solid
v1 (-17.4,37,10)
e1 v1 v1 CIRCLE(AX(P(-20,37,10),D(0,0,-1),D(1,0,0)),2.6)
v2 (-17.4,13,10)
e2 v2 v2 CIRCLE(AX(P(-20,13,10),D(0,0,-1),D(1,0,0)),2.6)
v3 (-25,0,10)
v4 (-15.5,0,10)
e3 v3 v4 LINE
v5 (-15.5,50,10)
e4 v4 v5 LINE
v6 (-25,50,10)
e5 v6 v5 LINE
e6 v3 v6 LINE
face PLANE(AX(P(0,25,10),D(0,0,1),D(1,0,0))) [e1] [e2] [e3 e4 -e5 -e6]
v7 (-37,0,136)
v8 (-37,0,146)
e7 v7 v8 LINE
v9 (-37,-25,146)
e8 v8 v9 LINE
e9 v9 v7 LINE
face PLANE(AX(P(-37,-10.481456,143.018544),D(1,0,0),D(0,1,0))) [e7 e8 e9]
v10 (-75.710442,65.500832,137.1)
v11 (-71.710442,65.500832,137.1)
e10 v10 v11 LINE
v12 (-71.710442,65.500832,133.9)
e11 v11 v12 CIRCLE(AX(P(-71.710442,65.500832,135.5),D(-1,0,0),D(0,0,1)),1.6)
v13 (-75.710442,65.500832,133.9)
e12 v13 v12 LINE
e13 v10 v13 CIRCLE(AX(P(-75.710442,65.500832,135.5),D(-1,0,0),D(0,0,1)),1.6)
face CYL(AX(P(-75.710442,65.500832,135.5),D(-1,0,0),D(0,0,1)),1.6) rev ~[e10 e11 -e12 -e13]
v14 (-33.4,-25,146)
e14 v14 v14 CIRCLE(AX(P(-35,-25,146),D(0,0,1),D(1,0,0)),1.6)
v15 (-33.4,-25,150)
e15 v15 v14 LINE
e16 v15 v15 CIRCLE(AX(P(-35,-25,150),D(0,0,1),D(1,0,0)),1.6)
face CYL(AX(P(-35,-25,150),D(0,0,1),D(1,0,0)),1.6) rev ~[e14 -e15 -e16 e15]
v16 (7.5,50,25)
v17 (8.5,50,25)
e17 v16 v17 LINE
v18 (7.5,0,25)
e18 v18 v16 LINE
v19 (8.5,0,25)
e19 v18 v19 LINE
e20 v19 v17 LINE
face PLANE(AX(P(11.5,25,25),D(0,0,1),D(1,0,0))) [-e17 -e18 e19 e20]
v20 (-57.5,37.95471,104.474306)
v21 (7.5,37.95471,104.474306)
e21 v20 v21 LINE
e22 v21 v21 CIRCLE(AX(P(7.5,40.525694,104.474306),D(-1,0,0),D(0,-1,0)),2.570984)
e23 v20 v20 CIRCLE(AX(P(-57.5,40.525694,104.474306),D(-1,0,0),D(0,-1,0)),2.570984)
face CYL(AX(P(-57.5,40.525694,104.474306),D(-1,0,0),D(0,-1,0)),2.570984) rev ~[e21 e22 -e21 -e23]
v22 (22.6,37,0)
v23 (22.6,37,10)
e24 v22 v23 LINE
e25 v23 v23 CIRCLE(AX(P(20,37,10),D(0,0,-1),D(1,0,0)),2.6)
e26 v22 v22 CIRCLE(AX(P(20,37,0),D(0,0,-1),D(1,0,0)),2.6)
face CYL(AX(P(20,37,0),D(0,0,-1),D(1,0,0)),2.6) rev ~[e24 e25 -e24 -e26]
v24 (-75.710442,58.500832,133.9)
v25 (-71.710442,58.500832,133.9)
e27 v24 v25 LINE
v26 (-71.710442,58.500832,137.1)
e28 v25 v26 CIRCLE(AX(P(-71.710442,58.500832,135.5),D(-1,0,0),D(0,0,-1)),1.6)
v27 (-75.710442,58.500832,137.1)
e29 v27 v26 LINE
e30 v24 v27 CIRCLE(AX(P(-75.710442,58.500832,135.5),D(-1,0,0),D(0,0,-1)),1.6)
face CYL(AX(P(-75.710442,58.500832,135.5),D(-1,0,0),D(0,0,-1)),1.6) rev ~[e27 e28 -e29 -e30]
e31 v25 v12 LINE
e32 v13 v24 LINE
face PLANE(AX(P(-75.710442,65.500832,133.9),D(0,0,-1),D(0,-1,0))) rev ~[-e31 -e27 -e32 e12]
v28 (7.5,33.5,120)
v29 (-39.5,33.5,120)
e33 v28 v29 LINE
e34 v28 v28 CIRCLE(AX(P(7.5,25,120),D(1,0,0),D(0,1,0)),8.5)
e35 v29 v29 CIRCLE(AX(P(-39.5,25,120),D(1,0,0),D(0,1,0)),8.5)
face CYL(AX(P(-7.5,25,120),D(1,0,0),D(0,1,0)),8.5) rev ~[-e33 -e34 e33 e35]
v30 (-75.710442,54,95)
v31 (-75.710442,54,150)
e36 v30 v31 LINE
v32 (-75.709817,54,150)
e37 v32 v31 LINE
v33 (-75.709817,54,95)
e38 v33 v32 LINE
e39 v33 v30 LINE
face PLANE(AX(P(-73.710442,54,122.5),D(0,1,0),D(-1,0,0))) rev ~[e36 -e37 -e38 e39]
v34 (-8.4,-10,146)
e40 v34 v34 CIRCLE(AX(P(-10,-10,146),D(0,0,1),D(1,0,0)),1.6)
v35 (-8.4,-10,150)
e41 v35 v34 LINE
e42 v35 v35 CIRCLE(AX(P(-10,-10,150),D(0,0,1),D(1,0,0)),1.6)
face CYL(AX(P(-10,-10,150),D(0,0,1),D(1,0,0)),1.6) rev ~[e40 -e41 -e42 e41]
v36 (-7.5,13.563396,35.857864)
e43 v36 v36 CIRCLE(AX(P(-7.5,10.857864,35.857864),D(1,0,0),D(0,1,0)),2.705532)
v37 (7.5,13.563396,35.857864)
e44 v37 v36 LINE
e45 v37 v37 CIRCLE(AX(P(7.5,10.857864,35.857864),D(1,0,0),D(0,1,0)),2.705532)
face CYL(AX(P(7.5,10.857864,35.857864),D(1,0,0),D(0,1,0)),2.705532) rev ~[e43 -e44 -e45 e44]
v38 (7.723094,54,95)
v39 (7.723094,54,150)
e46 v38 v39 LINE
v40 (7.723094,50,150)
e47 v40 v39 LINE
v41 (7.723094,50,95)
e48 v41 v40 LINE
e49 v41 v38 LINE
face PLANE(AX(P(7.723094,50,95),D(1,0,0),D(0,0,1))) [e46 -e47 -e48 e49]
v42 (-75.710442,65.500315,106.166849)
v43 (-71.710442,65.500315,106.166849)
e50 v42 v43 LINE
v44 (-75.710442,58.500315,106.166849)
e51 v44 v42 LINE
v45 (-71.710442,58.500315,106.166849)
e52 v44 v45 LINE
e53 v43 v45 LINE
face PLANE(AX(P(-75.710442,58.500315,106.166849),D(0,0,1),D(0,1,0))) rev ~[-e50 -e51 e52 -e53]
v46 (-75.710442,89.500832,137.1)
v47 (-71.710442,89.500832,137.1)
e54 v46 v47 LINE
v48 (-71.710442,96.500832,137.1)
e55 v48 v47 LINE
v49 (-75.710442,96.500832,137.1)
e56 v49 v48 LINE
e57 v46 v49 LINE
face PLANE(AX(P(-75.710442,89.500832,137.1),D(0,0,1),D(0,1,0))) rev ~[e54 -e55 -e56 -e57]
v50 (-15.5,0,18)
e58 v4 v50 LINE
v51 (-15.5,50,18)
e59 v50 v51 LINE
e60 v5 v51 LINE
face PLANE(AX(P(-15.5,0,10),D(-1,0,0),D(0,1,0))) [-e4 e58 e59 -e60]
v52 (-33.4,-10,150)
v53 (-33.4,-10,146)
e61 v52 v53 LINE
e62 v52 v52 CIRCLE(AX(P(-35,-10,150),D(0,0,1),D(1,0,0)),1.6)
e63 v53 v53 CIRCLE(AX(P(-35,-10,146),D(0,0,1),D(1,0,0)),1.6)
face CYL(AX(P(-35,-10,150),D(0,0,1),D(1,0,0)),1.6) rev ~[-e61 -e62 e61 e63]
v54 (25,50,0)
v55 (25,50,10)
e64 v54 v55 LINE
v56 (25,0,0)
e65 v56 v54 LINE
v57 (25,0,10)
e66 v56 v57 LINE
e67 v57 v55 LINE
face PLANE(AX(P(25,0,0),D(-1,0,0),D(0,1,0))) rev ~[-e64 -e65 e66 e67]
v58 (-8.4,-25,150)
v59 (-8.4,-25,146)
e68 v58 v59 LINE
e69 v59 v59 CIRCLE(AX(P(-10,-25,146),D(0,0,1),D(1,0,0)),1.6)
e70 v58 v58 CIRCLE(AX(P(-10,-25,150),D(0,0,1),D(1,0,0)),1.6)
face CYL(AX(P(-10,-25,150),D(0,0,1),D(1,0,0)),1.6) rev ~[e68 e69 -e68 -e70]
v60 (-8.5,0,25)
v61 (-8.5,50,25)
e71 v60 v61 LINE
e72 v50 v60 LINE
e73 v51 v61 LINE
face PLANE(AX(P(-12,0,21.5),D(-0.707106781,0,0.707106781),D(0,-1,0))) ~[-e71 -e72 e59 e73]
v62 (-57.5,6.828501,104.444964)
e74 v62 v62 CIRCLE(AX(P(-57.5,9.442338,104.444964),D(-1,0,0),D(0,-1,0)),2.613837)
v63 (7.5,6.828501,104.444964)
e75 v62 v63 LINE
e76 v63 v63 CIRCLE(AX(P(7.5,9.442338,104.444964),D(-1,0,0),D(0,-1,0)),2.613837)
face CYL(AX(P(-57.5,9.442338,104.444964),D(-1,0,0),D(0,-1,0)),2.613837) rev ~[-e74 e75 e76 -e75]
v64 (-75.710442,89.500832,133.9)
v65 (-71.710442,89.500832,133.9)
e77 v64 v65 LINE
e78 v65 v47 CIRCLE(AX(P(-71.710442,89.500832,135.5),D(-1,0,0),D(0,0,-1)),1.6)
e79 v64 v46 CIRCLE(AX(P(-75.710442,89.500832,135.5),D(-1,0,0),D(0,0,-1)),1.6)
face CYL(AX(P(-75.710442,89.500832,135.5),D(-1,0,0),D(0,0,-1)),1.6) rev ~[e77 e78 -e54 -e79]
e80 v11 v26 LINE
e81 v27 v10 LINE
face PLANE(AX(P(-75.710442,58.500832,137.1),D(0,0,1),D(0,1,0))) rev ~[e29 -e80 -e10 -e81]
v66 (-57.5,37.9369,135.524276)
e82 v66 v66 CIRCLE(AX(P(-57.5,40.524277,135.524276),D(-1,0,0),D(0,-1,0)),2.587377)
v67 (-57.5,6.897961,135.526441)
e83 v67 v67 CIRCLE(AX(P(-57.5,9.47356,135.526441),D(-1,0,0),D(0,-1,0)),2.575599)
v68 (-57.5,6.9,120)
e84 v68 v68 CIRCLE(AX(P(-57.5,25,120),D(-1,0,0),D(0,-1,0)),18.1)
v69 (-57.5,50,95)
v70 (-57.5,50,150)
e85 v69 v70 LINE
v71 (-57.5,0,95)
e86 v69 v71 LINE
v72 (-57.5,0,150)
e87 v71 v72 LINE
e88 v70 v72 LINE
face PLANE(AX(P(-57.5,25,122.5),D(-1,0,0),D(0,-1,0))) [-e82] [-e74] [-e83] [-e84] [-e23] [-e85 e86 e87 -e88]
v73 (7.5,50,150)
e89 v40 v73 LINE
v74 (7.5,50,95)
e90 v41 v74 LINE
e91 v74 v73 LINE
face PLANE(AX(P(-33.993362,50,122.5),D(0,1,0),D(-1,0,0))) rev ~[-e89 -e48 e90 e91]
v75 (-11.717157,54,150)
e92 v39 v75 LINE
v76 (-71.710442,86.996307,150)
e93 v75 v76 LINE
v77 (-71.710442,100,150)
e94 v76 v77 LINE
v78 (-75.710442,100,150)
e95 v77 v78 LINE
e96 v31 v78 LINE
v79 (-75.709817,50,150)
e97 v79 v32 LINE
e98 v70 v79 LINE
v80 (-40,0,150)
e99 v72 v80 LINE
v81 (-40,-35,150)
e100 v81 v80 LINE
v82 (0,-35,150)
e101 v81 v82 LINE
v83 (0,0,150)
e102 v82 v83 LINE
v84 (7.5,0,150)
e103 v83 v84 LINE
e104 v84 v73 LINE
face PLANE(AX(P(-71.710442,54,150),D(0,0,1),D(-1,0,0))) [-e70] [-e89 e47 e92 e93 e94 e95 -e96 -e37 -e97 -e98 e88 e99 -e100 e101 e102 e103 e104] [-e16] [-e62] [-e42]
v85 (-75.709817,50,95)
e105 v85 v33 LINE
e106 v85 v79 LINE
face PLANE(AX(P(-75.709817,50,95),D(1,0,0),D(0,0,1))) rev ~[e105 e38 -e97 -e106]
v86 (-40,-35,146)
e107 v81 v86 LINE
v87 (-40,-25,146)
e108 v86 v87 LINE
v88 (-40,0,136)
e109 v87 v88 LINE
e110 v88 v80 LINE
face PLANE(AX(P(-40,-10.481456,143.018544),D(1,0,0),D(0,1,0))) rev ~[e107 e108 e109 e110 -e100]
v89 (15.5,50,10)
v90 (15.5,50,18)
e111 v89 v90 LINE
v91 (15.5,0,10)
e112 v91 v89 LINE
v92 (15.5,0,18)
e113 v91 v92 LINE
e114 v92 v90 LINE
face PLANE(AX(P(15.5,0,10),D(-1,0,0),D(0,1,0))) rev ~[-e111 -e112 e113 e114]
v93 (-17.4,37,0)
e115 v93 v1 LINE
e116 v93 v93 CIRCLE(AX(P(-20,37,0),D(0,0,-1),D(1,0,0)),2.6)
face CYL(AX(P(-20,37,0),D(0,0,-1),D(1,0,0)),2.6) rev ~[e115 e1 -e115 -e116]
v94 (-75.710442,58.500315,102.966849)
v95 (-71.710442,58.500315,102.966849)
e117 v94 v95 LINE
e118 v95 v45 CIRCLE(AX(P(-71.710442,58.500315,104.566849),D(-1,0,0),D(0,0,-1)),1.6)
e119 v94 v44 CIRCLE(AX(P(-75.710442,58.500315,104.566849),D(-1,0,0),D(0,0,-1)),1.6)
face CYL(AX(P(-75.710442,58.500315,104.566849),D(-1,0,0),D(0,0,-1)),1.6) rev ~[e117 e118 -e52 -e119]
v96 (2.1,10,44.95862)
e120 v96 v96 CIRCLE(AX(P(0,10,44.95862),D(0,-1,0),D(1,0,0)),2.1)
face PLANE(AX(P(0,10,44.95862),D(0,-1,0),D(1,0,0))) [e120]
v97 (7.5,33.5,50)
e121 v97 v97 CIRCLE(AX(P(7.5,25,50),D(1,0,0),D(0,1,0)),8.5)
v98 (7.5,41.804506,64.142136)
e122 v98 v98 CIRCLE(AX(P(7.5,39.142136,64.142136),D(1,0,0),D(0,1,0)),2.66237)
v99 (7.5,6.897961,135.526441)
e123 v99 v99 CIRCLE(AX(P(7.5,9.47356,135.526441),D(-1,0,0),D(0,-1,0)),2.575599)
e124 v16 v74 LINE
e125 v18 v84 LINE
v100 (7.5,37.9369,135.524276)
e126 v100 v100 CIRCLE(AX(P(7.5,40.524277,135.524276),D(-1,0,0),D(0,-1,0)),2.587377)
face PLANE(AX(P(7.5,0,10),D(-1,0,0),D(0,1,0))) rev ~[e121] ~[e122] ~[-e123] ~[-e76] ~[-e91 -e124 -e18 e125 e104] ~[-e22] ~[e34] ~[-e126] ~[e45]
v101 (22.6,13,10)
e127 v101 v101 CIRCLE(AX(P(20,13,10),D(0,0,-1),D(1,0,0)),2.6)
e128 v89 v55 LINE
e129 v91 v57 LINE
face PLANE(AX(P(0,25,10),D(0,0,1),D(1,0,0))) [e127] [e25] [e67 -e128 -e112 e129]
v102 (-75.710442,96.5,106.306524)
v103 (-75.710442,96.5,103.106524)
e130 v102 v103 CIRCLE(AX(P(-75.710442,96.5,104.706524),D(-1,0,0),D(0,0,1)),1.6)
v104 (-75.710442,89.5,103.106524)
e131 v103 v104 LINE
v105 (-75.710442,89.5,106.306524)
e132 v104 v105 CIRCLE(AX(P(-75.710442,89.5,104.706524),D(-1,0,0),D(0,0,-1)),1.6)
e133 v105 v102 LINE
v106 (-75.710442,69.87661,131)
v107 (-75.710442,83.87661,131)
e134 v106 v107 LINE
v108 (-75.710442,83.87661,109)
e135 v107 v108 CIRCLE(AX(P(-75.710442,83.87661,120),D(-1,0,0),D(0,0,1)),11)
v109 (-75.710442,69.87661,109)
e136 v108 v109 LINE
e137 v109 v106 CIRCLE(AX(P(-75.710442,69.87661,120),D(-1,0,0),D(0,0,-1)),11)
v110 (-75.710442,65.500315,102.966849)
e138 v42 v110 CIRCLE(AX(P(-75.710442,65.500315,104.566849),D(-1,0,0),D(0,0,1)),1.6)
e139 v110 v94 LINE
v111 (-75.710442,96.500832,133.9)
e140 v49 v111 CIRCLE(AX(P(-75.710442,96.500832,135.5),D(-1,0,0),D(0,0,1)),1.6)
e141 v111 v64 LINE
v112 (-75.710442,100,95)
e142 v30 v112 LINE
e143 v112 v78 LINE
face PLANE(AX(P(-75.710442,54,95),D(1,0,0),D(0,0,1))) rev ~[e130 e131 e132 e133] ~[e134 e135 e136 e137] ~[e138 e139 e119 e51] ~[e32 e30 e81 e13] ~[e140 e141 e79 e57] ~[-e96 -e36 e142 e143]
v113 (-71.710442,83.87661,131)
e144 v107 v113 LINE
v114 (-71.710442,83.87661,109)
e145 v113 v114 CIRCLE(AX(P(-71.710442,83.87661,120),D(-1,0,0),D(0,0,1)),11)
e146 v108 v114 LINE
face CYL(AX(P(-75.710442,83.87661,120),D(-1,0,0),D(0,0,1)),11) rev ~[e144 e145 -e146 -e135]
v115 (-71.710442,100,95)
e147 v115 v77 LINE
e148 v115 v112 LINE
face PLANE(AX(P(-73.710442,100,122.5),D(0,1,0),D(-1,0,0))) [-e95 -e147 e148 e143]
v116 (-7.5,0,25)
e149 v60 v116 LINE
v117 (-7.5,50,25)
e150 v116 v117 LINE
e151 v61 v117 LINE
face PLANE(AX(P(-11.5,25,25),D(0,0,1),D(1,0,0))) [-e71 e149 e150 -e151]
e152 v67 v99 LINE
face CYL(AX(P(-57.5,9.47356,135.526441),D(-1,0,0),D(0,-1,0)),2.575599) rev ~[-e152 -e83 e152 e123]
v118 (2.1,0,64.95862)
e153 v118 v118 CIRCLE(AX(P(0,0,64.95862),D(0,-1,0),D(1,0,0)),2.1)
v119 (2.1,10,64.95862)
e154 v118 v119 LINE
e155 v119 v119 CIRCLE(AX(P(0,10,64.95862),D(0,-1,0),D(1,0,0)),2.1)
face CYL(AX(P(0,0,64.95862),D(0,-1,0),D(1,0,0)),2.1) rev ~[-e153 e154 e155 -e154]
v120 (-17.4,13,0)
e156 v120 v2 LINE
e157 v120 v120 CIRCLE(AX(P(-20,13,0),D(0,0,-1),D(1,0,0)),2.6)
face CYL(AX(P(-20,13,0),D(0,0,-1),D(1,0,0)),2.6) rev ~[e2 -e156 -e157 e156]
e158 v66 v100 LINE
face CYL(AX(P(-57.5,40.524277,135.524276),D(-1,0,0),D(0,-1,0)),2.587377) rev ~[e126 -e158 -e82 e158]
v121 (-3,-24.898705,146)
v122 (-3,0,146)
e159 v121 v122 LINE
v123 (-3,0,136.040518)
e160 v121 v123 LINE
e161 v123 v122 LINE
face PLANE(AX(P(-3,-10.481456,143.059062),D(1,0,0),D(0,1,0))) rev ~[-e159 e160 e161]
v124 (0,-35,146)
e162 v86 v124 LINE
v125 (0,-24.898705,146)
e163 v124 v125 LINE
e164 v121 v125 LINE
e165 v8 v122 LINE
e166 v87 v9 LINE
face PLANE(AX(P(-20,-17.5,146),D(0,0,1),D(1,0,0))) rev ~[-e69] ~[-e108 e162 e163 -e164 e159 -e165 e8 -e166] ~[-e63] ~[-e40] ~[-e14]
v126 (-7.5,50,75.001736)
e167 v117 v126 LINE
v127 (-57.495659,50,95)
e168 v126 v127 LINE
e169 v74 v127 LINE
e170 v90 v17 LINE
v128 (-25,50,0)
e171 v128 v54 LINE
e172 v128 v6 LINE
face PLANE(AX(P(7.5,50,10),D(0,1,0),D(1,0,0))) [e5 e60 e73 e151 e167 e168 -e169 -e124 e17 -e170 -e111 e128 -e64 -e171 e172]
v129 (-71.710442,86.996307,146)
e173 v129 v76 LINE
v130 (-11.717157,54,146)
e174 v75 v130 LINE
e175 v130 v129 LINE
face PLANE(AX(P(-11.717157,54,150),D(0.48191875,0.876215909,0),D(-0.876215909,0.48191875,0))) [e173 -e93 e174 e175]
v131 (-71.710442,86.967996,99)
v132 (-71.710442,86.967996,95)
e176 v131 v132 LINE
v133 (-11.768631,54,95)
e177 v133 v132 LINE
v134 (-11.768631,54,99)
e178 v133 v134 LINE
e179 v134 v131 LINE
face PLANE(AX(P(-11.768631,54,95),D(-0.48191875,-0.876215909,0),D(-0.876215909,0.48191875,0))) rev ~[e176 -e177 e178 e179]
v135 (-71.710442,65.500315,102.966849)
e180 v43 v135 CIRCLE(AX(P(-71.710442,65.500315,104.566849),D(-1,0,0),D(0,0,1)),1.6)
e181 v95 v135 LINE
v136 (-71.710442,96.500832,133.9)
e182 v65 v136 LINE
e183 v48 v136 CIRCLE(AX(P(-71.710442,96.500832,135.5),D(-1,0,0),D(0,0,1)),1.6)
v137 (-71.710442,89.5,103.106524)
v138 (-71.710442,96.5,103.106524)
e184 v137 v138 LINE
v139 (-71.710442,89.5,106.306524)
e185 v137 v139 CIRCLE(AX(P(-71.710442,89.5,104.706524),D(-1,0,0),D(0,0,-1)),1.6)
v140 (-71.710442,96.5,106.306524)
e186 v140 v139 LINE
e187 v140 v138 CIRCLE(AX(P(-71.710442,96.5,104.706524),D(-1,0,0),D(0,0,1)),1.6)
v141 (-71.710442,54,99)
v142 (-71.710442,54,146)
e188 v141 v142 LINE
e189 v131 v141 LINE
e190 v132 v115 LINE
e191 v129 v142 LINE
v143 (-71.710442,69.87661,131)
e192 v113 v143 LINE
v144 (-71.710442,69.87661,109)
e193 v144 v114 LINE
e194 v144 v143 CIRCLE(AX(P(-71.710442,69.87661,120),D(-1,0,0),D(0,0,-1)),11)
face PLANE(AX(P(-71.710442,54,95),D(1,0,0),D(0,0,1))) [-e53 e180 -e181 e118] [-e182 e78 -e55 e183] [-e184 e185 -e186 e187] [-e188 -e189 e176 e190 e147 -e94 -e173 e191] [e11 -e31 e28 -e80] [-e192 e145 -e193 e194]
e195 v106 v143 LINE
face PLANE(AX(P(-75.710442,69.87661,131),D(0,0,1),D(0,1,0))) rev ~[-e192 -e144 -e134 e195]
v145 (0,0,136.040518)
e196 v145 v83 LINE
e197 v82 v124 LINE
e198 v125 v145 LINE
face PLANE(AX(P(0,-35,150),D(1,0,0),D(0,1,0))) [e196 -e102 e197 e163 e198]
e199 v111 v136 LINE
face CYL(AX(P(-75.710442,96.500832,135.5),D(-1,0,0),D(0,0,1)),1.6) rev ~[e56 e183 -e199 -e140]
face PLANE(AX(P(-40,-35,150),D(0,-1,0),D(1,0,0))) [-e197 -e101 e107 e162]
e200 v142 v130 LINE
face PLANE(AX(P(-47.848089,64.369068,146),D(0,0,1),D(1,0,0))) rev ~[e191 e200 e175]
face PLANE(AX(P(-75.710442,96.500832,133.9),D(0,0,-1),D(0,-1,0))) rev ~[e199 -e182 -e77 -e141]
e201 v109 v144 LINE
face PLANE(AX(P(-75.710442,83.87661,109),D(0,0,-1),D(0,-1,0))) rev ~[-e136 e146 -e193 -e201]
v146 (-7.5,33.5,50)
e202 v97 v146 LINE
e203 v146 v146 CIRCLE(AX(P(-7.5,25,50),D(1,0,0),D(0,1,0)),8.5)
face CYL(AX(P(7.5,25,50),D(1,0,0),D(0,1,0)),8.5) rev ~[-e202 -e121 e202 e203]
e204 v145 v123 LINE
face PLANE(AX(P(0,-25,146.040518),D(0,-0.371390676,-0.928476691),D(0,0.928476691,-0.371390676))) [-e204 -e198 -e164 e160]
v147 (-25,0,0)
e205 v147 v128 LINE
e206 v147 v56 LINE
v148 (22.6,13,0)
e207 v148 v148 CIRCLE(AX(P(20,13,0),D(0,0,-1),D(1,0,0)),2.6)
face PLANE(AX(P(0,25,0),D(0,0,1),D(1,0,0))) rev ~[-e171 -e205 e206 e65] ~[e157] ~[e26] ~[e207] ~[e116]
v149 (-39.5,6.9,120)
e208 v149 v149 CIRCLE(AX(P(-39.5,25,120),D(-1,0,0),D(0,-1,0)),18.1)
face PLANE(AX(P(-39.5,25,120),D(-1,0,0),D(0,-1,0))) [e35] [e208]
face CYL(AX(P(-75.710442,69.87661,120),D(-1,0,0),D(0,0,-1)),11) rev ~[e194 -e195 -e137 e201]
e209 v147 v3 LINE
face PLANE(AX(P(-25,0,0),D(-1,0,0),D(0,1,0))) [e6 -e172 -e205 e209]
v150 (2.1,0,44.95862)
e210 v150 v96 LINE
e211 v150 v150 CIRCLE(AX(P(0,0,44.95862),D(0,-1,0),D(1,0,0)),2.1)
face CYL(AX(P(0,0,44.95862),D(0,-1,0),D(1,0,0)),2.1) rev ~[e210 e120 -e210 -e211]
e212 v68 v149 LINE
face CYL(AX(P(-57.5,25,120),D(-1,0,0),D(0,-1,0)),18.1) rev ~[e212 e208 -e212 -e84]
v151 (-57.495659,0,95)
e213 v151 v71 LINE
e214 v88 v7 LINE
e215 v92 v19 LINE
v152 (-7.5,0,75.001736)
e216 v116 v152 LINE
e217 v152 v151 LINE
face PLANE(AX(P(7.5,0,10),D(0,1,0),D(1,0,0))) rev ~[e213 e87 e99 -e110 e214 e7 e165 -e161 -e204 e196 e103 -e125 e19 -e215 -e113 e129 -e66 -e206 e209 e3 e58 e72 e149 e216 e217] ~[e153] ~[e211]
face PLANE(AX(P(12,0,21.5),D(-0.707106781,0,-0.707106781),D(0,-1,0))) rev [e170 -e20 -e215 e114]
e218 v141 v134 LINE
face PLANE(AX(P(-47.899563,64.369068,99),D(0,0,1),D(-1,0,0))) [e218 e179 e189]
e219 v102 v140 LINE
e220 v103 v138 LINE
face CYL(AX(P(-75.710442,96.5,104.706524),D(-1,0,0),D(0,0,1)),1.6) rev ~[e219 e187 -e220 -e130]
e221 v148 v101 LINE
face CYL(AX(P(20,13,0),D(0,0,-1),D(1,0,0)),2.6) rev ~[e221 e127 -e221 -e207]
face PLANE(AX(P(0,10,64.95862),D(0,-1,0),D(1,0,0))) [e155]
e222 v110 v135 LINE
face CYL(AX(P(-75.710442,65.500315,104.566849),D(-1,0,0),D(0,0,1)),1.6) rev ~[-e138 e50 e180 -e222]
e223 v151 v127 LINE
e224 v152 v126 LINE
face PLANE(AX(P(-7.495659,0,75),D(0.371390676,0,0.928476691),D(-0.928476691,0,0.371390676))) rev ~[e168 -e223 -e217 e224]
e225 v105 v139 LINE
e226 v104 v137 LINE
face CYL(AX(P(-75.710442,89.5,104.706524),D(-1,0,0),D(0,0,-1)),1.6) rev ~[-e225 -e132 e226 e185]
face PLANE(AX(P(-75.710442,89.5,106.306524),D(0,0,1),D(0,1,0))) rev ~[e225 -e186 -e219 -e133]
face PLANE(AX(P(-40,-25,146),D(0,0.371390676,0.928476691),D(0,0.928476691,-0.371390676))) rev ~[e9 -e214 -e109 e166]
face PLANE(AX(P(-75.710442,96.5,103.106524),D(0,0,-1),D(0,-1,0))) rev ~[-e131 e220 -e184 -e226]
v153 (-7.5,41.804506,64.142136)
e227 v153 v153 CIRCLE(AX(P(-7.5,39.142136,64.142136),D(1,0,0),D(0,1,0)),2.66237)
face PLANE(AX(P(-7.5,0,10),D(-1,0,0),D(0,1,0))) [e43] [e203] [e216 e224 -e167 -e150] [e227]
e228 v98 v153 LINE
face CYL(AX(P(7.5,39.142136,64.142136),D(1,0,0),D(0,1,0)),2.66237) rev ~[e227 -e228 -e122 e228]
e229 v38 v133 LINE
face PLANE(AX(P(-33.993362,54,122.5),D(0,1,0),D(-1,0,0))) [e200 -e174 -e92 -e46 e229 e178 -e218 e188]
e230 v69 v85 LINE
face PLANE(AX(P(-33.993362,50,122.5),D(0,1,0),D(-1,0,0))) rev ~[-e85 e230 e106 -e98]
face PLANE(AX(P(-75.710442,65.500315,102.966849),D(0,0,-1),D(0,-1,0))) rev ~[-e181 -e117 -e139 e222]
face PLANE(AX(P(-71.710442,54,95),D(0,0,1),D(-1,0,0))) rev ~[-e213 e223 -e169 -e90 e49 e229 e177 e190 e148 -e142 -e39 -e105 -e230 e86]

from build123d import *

# Parameters (mm, degrees)
SKETCH_W        = 50
SKETCH_H        = 50
PAD_DEPTH       = 10
SKETCH001_W     = 15
SKETCH001_H     = 50
PAD001_DEPTH    = 140
SKETCH004_R     = 2.6
POCKET002_DEPTH = 10
SKETCH005_R     = 8.5
SKETCH005_R_2   = 2.66237
SKETCH005_R_3   = 2.705532
POCKET_DEPTH    = 15
SKETCH006_W     = 50
SKETCH006_H     = 55
PAD002_DEPTH    = 50
SKETCH009_W     = 8
SKETCH009_H     = 50
PAD003_DEPTH    = 15
SKETCH010_R     = 8.5
POCKET003_DEPTH = 65
SKETCH011_R     = 18.1
POCKET004_DEPTH = 18
SKETCH012_R     = 2.570984
SKETCH012_R_2   = 2.587377
SKETCH012_R_3   = 2.575599
SKETCH012_R_4   = 2.613837
POCKET005_DEPTH = 65
CHAMFER_SIZE    = 7
CHAMFER001_SIZE = 7
SKETCH013_W     = 83.432911
SKETCH013_H     = 55
PAD004_DEPTH    = 4
SKETCH014_W     = 4
SKETCH014_H     = 55
PAD005_DEPTH    = 46
PAD006_DEPTH    = 4
PAD007_DEPTH    = 4
POCKET006_DEPTH = 5
SKETCH018_W     = 40
SKETCH018_H     = 35
PAD008_DEPTH    = 4
SKETCH019_R     = 1.6
POCKET007_DEPTH = 5
PAD009_DEPTH    = 3
PAD010_DEPTH    = 3
SKETCH022_R     = 2.1
POCKET008_DEPTH = 10
PAD011_DEPTH    = 50


with BuildPart() as part:
    # Sketch → Pad (new body)
    with BuildSketch(Plane.XY):
        with Locations((0, 25)):
            Rectangle(SKETCH_W, SKETCH_H)
    extrude(amount=PAD_DEPTH)

    # Sketch001 (on Face6 of Pad) → Pad001 (join)
    with BuildSketch(Plane.XY.offset(10)):
        with Locations((0, 25)):
            Rectangle(SKETCH001_W, SKETCH001_H)
    extrude(amount=PAD001_DEPTH)

    # Sketch004 → Pocket002 (cut)
    with BuildSketch(Plane(origin=(0, 0, 0), x_dir=(1, 0, 0), z_dir=(0, 0, -1))):
        with Locations((-20, -13)):
            Circle(SKETCH004_R)
        with Locations((20, -13)):
            Circle(SKETCH004_R)
        with Locations((-20, -37)):
            Circle(SKETCH004_R)
        with Locations((20, -37)):
            Circle(SKETCH004_R)
    extrude(amount=-POCKET002_DEPTH, mode=Mode.SUBTRACT)

    # Sketch005 (on Face14 of Pocket002) → Pocket (cut)
    with BuildSketch(Plane.YZ.offset(7.5)):
        with Locations((25, 50)):
            Circle(SKETCH005_R)
        with Locations((25, 120)):
            Circle(SKETCH005_R)
        with Locations((39.142136, 64.142136)):
            Circle(SKETCH005_R_2)
        with Locations((10.857864, 35.857864)):
            Circle(SKETCH005_R_3)
    extrude(amount=-POCKET_DEPTH, mode=Mode.SUBTRACT)

    # Sketch006 (on Face13 of Pocket) → Pad002 (join)
    with BuildSketch(Plane(origin=(-7.5, 0, 0), x_dir=(0, -1, 0), z_dir=(-1, 0, 0))):
        with Locations((-25, 122.5)):
            Rectangle(SKETCH006_W, SKETCH006_H)
    extrude(amount=PAD002_DEPTH)

    # Sketch009 → Pad003 (join)
    with BuildSketch(Plane.XY.offset(10)):
        with Locations((11.5, 25)):
            Rectangle(SKETCH009_W, SKETCH009_H)
        with Locations((-11.5, 25)):
            Rectangle(SKETCH009_W, SKETCH009_H)
    extrude(amount=PAD003_DEPTH)

    # Sketch010 (on Face34 of Pad003) → Pocket003 (cut)
    with BuildSketch(Plane.YZ.offset(-7.5)):
        with Locations((25, 120)):
            Circle(SKETCH010_R)
    extrude(amount=-POCKET003_DEPTH, mode=Mode.SUBTRACT)

    # Sketch011 (on DatumPlane) → Pocket004 (cut)
    with BuildSketch(Plane(origin=(-57.5, 0, 0), x_dir=(0, -1, 0), z_dir=(-1, 0, 0))):
        with Locations((-25, 120)):
            Circle(SKETCH011_R)
    extrude(amount=-POCKET004_DEPTH, mode=Mode.SUBTRACT)

    # Sketch012 (on DatumPlane) → Pocket005 (cut)
    with BuildSketch(Plane(origin=(-57.5, 0, 0), x_dir=(0, -1, 0), z_dir=(-1, 0, 0))):
        with Locations((-40.525694, 104.474306)):
            Circle(SKETCH012_R)
        with Locations((-40.524277, 135.524276)):
            Circle(SKETCH012_R_2)
        with Locations((-9.47356, 135.526441)):
            Circle(SKETCH012_R_3)
        with Locations((-9.442338, 104.444964)):
            Circle(SKETCH012_R_4)
    extrude(amount=-POCKET005_DEPTH, mode=Mode.SUBTRACT)

    # Chamfer
    chamfer_edges = [part.edges().sort_by_distance(p)[0] for p in [
        (15.5, 25, 25),
    ]]
    chamfer(chamfer_edges, length=CHAMFER_SIZE)

    # Chamfer001
    chamfer001_edges = [part.edges().sort_by_distance(p)[0] for p in [
        (-15.5, 25, 25),
    ]]
    chamfer(chamfer001_edges, length=CHAMFER001_SIZE)

    # Sketch013 (on DatumPlane) → Pad004 (join)
    with BuildSketch(Plane(origin=(0, 50, 0), x_dir=(-1, 0, 0), z_dir=(0, 1, 0))):
        with Locations((33.993362, 122.5)):
            Rectangle(SKETCH013_W, SKETCH013_H)
    extrude(amount=PAD004_DEPTH)

    # Sketch014 (on Face47 of Pad004) → Pad005 (join)
    with BuildSketch(Plane(origin=(0, 54, 0), x_dir=(-1, 0, 0), z_dir=(0, 1, 0))):
        with Locations((73.710442, 122.5)):
            Rectangle(SKETCH014_W, SKETCH014_H)
    extrude(amount=PAD005_DEPTH)

    # Sketch015 (on DatumPlane) → Pad006 (join)
    with BuildSketch(Plane.XY.offset(150)):
        Polygon((-71.717157, 54), (-11.717157, 54), (-71.717157, 87), align=None)
    extrude(amount=-PAD006_DEPTH)

    # Sketch016 (on DatumPlane) → Pad007 (join)
    with BuildSketch(Plane(origin=(0, 0, 95), x_dir=(1, 0, 0), z_dir=(0, 0, -1))):
        Polygon((-71.768631, -54), (-11.768631, -54), (-71.768631, -87), align=None)
    extrude(amount=-PAD007_DEPTH)

    # Sketch017 (on DatumPlane) → Pocket006 (cut)
    with BuildSketch(Plane(origin=(-75.710442, 0, 0), x_dir=(0, -1, 0), z_dir=(-1, 0, 0))):
        with BuildLine():
            ThreePointArc((-58.500315, 102.966849), (-56.900315, 104.566849), (-58.500315, 106.166849))
            Line((-58.500315, 106.166849), (-65.500315, 106.166849))
            ThreePointArc((-65.500315, 106.166849), (-67.100315, 104.566849), (-65.500315, 102.966849))
            Line((-65.500315, 102.966849), (-58.500315, 102.966849))
        make_face()
        with BuildLine():
            ThreePointArc((-89.5, 103.106524), (-87.9, 104.706524), (-89.5, 106.306524))
            Line((-89.5, 106.306524), (-96.5, 106.306524))
            ThreePointArc((-96.5, 106.306524), (-98.1, 104.706524), (-96.5, 103.106524))
            Line((-96.5, 103.106524), (-89.5, 103.106524))
        make_face()
        with BuildLine():
            ThreePointArc((-89.500832, 133.9), (-87.900832, 135.5), (-89.500832, 137.1))
            Line((-89.500832, 137.1), (-96.500832, 137.1))
            ThreePointArc((-96.500832, 137.1), (-98.100832, 135.5), (-96.500832, 133.9))
            Line((-96.500832, 133.9), (-89.500832, 133.9))
        make_face()
        with BuildLine():
            ThreePointArc((-58.500832, 133.9), (-56.900832, 135.5), (-58.500832, 137.1))
            Line((-58.500832, 137.1), (-65.500832, 137.1))
            ThreePointArc((-65.500832, 137.1), (-67.100832, 135.5), (-65.500832, 133.9))
            Line((-65.500832, 133.9), (-58.500832, 133.9))
        make_face()
        with BuildLine():
            ThreePointArc((-69.87661, 109), (-58.87661, 120), (-69.87661, 131))
            Line((-69.87661, 131), (-83.87661, 131))
            ThreePointArc((-83.87661, 131), (-94.87661, 120), (-83.87661, 109))
            Line((-83.87661, 109), (-69.87661, 109))
        make_face()
    extrude(amount=-POCKET006_DEPTH, mode=Mode.SUBTRACT)

    # Sketch018 (on DatumPlane) → Pad008 (join)
    with BuildSketch(Plane.XY.offset(150)):
        with Locations((-20, -17.5)):
            Rectangle(SKETCH018_W, SKETCH018_H)
    extrude(amount=-PAD008_DEPTH)

    # Sketch019 (on DatumPlane) → Pocket007 (cut)
    with BuildSketch(Plane.XY.offset(150)):
        with Locations((-10, -10)):
            Circle(SKETCH019_R)
        with Locations((-10, -25)):
            Circle(SKETCH019_R)
        with Locations((-35, -10)):
            Circle(SKETCH019_R)
        with Locations((-35, -25)):
            Circle(SKETCH019_R)
    extrude(amount=-POCKET007_DEPTH, mode=Mode.SUBTRACT)

    # Sketch020 (on DatumPlane) → Pad009 (join)
    with BuildSketch(Plane.YZ):
        Polygon((0, 146.040518), (-25, 146.040518), (0, 136.040518), align=None)
    extrude(amount=-PAD009_DEPTH)

    # Sketch021 (on DatumPlane) → Pad010 (join)
    with BuildSketch(Plane(origin=(-40, 0, 0), x_dir=(0, -1, 0), z_dir=(-1, 0, 0))):
        Polygon((0, 146), (25, 146), (0, 136), align=None)
    extrude(amount=-PAD010_DEPTH)

    # Sketch022 (on Face6 of Pocket006) → Pocket008 (cut)
    with BuildSketch(Plane.XZ):
        with Locations((0, 44.95862)):
            Circle(SKETCH022_R)
        with Locations((0, 64.95862)):
            Circle(SKETCH022_R)
    extrude(amount=-POCKET008_DEPTH, mode=Mode.SUBTRACT)

    # Sketch023 (on DatumPlane) → Pad011 (join)
    with BuildSketch(Plane.XZ):
        Polygon((-7.495659, 95), (-7.495659, 75), (-57.495659, 95), align=None)
    extrude(amount=-PAD011_DEPTH)


solid = part.part
